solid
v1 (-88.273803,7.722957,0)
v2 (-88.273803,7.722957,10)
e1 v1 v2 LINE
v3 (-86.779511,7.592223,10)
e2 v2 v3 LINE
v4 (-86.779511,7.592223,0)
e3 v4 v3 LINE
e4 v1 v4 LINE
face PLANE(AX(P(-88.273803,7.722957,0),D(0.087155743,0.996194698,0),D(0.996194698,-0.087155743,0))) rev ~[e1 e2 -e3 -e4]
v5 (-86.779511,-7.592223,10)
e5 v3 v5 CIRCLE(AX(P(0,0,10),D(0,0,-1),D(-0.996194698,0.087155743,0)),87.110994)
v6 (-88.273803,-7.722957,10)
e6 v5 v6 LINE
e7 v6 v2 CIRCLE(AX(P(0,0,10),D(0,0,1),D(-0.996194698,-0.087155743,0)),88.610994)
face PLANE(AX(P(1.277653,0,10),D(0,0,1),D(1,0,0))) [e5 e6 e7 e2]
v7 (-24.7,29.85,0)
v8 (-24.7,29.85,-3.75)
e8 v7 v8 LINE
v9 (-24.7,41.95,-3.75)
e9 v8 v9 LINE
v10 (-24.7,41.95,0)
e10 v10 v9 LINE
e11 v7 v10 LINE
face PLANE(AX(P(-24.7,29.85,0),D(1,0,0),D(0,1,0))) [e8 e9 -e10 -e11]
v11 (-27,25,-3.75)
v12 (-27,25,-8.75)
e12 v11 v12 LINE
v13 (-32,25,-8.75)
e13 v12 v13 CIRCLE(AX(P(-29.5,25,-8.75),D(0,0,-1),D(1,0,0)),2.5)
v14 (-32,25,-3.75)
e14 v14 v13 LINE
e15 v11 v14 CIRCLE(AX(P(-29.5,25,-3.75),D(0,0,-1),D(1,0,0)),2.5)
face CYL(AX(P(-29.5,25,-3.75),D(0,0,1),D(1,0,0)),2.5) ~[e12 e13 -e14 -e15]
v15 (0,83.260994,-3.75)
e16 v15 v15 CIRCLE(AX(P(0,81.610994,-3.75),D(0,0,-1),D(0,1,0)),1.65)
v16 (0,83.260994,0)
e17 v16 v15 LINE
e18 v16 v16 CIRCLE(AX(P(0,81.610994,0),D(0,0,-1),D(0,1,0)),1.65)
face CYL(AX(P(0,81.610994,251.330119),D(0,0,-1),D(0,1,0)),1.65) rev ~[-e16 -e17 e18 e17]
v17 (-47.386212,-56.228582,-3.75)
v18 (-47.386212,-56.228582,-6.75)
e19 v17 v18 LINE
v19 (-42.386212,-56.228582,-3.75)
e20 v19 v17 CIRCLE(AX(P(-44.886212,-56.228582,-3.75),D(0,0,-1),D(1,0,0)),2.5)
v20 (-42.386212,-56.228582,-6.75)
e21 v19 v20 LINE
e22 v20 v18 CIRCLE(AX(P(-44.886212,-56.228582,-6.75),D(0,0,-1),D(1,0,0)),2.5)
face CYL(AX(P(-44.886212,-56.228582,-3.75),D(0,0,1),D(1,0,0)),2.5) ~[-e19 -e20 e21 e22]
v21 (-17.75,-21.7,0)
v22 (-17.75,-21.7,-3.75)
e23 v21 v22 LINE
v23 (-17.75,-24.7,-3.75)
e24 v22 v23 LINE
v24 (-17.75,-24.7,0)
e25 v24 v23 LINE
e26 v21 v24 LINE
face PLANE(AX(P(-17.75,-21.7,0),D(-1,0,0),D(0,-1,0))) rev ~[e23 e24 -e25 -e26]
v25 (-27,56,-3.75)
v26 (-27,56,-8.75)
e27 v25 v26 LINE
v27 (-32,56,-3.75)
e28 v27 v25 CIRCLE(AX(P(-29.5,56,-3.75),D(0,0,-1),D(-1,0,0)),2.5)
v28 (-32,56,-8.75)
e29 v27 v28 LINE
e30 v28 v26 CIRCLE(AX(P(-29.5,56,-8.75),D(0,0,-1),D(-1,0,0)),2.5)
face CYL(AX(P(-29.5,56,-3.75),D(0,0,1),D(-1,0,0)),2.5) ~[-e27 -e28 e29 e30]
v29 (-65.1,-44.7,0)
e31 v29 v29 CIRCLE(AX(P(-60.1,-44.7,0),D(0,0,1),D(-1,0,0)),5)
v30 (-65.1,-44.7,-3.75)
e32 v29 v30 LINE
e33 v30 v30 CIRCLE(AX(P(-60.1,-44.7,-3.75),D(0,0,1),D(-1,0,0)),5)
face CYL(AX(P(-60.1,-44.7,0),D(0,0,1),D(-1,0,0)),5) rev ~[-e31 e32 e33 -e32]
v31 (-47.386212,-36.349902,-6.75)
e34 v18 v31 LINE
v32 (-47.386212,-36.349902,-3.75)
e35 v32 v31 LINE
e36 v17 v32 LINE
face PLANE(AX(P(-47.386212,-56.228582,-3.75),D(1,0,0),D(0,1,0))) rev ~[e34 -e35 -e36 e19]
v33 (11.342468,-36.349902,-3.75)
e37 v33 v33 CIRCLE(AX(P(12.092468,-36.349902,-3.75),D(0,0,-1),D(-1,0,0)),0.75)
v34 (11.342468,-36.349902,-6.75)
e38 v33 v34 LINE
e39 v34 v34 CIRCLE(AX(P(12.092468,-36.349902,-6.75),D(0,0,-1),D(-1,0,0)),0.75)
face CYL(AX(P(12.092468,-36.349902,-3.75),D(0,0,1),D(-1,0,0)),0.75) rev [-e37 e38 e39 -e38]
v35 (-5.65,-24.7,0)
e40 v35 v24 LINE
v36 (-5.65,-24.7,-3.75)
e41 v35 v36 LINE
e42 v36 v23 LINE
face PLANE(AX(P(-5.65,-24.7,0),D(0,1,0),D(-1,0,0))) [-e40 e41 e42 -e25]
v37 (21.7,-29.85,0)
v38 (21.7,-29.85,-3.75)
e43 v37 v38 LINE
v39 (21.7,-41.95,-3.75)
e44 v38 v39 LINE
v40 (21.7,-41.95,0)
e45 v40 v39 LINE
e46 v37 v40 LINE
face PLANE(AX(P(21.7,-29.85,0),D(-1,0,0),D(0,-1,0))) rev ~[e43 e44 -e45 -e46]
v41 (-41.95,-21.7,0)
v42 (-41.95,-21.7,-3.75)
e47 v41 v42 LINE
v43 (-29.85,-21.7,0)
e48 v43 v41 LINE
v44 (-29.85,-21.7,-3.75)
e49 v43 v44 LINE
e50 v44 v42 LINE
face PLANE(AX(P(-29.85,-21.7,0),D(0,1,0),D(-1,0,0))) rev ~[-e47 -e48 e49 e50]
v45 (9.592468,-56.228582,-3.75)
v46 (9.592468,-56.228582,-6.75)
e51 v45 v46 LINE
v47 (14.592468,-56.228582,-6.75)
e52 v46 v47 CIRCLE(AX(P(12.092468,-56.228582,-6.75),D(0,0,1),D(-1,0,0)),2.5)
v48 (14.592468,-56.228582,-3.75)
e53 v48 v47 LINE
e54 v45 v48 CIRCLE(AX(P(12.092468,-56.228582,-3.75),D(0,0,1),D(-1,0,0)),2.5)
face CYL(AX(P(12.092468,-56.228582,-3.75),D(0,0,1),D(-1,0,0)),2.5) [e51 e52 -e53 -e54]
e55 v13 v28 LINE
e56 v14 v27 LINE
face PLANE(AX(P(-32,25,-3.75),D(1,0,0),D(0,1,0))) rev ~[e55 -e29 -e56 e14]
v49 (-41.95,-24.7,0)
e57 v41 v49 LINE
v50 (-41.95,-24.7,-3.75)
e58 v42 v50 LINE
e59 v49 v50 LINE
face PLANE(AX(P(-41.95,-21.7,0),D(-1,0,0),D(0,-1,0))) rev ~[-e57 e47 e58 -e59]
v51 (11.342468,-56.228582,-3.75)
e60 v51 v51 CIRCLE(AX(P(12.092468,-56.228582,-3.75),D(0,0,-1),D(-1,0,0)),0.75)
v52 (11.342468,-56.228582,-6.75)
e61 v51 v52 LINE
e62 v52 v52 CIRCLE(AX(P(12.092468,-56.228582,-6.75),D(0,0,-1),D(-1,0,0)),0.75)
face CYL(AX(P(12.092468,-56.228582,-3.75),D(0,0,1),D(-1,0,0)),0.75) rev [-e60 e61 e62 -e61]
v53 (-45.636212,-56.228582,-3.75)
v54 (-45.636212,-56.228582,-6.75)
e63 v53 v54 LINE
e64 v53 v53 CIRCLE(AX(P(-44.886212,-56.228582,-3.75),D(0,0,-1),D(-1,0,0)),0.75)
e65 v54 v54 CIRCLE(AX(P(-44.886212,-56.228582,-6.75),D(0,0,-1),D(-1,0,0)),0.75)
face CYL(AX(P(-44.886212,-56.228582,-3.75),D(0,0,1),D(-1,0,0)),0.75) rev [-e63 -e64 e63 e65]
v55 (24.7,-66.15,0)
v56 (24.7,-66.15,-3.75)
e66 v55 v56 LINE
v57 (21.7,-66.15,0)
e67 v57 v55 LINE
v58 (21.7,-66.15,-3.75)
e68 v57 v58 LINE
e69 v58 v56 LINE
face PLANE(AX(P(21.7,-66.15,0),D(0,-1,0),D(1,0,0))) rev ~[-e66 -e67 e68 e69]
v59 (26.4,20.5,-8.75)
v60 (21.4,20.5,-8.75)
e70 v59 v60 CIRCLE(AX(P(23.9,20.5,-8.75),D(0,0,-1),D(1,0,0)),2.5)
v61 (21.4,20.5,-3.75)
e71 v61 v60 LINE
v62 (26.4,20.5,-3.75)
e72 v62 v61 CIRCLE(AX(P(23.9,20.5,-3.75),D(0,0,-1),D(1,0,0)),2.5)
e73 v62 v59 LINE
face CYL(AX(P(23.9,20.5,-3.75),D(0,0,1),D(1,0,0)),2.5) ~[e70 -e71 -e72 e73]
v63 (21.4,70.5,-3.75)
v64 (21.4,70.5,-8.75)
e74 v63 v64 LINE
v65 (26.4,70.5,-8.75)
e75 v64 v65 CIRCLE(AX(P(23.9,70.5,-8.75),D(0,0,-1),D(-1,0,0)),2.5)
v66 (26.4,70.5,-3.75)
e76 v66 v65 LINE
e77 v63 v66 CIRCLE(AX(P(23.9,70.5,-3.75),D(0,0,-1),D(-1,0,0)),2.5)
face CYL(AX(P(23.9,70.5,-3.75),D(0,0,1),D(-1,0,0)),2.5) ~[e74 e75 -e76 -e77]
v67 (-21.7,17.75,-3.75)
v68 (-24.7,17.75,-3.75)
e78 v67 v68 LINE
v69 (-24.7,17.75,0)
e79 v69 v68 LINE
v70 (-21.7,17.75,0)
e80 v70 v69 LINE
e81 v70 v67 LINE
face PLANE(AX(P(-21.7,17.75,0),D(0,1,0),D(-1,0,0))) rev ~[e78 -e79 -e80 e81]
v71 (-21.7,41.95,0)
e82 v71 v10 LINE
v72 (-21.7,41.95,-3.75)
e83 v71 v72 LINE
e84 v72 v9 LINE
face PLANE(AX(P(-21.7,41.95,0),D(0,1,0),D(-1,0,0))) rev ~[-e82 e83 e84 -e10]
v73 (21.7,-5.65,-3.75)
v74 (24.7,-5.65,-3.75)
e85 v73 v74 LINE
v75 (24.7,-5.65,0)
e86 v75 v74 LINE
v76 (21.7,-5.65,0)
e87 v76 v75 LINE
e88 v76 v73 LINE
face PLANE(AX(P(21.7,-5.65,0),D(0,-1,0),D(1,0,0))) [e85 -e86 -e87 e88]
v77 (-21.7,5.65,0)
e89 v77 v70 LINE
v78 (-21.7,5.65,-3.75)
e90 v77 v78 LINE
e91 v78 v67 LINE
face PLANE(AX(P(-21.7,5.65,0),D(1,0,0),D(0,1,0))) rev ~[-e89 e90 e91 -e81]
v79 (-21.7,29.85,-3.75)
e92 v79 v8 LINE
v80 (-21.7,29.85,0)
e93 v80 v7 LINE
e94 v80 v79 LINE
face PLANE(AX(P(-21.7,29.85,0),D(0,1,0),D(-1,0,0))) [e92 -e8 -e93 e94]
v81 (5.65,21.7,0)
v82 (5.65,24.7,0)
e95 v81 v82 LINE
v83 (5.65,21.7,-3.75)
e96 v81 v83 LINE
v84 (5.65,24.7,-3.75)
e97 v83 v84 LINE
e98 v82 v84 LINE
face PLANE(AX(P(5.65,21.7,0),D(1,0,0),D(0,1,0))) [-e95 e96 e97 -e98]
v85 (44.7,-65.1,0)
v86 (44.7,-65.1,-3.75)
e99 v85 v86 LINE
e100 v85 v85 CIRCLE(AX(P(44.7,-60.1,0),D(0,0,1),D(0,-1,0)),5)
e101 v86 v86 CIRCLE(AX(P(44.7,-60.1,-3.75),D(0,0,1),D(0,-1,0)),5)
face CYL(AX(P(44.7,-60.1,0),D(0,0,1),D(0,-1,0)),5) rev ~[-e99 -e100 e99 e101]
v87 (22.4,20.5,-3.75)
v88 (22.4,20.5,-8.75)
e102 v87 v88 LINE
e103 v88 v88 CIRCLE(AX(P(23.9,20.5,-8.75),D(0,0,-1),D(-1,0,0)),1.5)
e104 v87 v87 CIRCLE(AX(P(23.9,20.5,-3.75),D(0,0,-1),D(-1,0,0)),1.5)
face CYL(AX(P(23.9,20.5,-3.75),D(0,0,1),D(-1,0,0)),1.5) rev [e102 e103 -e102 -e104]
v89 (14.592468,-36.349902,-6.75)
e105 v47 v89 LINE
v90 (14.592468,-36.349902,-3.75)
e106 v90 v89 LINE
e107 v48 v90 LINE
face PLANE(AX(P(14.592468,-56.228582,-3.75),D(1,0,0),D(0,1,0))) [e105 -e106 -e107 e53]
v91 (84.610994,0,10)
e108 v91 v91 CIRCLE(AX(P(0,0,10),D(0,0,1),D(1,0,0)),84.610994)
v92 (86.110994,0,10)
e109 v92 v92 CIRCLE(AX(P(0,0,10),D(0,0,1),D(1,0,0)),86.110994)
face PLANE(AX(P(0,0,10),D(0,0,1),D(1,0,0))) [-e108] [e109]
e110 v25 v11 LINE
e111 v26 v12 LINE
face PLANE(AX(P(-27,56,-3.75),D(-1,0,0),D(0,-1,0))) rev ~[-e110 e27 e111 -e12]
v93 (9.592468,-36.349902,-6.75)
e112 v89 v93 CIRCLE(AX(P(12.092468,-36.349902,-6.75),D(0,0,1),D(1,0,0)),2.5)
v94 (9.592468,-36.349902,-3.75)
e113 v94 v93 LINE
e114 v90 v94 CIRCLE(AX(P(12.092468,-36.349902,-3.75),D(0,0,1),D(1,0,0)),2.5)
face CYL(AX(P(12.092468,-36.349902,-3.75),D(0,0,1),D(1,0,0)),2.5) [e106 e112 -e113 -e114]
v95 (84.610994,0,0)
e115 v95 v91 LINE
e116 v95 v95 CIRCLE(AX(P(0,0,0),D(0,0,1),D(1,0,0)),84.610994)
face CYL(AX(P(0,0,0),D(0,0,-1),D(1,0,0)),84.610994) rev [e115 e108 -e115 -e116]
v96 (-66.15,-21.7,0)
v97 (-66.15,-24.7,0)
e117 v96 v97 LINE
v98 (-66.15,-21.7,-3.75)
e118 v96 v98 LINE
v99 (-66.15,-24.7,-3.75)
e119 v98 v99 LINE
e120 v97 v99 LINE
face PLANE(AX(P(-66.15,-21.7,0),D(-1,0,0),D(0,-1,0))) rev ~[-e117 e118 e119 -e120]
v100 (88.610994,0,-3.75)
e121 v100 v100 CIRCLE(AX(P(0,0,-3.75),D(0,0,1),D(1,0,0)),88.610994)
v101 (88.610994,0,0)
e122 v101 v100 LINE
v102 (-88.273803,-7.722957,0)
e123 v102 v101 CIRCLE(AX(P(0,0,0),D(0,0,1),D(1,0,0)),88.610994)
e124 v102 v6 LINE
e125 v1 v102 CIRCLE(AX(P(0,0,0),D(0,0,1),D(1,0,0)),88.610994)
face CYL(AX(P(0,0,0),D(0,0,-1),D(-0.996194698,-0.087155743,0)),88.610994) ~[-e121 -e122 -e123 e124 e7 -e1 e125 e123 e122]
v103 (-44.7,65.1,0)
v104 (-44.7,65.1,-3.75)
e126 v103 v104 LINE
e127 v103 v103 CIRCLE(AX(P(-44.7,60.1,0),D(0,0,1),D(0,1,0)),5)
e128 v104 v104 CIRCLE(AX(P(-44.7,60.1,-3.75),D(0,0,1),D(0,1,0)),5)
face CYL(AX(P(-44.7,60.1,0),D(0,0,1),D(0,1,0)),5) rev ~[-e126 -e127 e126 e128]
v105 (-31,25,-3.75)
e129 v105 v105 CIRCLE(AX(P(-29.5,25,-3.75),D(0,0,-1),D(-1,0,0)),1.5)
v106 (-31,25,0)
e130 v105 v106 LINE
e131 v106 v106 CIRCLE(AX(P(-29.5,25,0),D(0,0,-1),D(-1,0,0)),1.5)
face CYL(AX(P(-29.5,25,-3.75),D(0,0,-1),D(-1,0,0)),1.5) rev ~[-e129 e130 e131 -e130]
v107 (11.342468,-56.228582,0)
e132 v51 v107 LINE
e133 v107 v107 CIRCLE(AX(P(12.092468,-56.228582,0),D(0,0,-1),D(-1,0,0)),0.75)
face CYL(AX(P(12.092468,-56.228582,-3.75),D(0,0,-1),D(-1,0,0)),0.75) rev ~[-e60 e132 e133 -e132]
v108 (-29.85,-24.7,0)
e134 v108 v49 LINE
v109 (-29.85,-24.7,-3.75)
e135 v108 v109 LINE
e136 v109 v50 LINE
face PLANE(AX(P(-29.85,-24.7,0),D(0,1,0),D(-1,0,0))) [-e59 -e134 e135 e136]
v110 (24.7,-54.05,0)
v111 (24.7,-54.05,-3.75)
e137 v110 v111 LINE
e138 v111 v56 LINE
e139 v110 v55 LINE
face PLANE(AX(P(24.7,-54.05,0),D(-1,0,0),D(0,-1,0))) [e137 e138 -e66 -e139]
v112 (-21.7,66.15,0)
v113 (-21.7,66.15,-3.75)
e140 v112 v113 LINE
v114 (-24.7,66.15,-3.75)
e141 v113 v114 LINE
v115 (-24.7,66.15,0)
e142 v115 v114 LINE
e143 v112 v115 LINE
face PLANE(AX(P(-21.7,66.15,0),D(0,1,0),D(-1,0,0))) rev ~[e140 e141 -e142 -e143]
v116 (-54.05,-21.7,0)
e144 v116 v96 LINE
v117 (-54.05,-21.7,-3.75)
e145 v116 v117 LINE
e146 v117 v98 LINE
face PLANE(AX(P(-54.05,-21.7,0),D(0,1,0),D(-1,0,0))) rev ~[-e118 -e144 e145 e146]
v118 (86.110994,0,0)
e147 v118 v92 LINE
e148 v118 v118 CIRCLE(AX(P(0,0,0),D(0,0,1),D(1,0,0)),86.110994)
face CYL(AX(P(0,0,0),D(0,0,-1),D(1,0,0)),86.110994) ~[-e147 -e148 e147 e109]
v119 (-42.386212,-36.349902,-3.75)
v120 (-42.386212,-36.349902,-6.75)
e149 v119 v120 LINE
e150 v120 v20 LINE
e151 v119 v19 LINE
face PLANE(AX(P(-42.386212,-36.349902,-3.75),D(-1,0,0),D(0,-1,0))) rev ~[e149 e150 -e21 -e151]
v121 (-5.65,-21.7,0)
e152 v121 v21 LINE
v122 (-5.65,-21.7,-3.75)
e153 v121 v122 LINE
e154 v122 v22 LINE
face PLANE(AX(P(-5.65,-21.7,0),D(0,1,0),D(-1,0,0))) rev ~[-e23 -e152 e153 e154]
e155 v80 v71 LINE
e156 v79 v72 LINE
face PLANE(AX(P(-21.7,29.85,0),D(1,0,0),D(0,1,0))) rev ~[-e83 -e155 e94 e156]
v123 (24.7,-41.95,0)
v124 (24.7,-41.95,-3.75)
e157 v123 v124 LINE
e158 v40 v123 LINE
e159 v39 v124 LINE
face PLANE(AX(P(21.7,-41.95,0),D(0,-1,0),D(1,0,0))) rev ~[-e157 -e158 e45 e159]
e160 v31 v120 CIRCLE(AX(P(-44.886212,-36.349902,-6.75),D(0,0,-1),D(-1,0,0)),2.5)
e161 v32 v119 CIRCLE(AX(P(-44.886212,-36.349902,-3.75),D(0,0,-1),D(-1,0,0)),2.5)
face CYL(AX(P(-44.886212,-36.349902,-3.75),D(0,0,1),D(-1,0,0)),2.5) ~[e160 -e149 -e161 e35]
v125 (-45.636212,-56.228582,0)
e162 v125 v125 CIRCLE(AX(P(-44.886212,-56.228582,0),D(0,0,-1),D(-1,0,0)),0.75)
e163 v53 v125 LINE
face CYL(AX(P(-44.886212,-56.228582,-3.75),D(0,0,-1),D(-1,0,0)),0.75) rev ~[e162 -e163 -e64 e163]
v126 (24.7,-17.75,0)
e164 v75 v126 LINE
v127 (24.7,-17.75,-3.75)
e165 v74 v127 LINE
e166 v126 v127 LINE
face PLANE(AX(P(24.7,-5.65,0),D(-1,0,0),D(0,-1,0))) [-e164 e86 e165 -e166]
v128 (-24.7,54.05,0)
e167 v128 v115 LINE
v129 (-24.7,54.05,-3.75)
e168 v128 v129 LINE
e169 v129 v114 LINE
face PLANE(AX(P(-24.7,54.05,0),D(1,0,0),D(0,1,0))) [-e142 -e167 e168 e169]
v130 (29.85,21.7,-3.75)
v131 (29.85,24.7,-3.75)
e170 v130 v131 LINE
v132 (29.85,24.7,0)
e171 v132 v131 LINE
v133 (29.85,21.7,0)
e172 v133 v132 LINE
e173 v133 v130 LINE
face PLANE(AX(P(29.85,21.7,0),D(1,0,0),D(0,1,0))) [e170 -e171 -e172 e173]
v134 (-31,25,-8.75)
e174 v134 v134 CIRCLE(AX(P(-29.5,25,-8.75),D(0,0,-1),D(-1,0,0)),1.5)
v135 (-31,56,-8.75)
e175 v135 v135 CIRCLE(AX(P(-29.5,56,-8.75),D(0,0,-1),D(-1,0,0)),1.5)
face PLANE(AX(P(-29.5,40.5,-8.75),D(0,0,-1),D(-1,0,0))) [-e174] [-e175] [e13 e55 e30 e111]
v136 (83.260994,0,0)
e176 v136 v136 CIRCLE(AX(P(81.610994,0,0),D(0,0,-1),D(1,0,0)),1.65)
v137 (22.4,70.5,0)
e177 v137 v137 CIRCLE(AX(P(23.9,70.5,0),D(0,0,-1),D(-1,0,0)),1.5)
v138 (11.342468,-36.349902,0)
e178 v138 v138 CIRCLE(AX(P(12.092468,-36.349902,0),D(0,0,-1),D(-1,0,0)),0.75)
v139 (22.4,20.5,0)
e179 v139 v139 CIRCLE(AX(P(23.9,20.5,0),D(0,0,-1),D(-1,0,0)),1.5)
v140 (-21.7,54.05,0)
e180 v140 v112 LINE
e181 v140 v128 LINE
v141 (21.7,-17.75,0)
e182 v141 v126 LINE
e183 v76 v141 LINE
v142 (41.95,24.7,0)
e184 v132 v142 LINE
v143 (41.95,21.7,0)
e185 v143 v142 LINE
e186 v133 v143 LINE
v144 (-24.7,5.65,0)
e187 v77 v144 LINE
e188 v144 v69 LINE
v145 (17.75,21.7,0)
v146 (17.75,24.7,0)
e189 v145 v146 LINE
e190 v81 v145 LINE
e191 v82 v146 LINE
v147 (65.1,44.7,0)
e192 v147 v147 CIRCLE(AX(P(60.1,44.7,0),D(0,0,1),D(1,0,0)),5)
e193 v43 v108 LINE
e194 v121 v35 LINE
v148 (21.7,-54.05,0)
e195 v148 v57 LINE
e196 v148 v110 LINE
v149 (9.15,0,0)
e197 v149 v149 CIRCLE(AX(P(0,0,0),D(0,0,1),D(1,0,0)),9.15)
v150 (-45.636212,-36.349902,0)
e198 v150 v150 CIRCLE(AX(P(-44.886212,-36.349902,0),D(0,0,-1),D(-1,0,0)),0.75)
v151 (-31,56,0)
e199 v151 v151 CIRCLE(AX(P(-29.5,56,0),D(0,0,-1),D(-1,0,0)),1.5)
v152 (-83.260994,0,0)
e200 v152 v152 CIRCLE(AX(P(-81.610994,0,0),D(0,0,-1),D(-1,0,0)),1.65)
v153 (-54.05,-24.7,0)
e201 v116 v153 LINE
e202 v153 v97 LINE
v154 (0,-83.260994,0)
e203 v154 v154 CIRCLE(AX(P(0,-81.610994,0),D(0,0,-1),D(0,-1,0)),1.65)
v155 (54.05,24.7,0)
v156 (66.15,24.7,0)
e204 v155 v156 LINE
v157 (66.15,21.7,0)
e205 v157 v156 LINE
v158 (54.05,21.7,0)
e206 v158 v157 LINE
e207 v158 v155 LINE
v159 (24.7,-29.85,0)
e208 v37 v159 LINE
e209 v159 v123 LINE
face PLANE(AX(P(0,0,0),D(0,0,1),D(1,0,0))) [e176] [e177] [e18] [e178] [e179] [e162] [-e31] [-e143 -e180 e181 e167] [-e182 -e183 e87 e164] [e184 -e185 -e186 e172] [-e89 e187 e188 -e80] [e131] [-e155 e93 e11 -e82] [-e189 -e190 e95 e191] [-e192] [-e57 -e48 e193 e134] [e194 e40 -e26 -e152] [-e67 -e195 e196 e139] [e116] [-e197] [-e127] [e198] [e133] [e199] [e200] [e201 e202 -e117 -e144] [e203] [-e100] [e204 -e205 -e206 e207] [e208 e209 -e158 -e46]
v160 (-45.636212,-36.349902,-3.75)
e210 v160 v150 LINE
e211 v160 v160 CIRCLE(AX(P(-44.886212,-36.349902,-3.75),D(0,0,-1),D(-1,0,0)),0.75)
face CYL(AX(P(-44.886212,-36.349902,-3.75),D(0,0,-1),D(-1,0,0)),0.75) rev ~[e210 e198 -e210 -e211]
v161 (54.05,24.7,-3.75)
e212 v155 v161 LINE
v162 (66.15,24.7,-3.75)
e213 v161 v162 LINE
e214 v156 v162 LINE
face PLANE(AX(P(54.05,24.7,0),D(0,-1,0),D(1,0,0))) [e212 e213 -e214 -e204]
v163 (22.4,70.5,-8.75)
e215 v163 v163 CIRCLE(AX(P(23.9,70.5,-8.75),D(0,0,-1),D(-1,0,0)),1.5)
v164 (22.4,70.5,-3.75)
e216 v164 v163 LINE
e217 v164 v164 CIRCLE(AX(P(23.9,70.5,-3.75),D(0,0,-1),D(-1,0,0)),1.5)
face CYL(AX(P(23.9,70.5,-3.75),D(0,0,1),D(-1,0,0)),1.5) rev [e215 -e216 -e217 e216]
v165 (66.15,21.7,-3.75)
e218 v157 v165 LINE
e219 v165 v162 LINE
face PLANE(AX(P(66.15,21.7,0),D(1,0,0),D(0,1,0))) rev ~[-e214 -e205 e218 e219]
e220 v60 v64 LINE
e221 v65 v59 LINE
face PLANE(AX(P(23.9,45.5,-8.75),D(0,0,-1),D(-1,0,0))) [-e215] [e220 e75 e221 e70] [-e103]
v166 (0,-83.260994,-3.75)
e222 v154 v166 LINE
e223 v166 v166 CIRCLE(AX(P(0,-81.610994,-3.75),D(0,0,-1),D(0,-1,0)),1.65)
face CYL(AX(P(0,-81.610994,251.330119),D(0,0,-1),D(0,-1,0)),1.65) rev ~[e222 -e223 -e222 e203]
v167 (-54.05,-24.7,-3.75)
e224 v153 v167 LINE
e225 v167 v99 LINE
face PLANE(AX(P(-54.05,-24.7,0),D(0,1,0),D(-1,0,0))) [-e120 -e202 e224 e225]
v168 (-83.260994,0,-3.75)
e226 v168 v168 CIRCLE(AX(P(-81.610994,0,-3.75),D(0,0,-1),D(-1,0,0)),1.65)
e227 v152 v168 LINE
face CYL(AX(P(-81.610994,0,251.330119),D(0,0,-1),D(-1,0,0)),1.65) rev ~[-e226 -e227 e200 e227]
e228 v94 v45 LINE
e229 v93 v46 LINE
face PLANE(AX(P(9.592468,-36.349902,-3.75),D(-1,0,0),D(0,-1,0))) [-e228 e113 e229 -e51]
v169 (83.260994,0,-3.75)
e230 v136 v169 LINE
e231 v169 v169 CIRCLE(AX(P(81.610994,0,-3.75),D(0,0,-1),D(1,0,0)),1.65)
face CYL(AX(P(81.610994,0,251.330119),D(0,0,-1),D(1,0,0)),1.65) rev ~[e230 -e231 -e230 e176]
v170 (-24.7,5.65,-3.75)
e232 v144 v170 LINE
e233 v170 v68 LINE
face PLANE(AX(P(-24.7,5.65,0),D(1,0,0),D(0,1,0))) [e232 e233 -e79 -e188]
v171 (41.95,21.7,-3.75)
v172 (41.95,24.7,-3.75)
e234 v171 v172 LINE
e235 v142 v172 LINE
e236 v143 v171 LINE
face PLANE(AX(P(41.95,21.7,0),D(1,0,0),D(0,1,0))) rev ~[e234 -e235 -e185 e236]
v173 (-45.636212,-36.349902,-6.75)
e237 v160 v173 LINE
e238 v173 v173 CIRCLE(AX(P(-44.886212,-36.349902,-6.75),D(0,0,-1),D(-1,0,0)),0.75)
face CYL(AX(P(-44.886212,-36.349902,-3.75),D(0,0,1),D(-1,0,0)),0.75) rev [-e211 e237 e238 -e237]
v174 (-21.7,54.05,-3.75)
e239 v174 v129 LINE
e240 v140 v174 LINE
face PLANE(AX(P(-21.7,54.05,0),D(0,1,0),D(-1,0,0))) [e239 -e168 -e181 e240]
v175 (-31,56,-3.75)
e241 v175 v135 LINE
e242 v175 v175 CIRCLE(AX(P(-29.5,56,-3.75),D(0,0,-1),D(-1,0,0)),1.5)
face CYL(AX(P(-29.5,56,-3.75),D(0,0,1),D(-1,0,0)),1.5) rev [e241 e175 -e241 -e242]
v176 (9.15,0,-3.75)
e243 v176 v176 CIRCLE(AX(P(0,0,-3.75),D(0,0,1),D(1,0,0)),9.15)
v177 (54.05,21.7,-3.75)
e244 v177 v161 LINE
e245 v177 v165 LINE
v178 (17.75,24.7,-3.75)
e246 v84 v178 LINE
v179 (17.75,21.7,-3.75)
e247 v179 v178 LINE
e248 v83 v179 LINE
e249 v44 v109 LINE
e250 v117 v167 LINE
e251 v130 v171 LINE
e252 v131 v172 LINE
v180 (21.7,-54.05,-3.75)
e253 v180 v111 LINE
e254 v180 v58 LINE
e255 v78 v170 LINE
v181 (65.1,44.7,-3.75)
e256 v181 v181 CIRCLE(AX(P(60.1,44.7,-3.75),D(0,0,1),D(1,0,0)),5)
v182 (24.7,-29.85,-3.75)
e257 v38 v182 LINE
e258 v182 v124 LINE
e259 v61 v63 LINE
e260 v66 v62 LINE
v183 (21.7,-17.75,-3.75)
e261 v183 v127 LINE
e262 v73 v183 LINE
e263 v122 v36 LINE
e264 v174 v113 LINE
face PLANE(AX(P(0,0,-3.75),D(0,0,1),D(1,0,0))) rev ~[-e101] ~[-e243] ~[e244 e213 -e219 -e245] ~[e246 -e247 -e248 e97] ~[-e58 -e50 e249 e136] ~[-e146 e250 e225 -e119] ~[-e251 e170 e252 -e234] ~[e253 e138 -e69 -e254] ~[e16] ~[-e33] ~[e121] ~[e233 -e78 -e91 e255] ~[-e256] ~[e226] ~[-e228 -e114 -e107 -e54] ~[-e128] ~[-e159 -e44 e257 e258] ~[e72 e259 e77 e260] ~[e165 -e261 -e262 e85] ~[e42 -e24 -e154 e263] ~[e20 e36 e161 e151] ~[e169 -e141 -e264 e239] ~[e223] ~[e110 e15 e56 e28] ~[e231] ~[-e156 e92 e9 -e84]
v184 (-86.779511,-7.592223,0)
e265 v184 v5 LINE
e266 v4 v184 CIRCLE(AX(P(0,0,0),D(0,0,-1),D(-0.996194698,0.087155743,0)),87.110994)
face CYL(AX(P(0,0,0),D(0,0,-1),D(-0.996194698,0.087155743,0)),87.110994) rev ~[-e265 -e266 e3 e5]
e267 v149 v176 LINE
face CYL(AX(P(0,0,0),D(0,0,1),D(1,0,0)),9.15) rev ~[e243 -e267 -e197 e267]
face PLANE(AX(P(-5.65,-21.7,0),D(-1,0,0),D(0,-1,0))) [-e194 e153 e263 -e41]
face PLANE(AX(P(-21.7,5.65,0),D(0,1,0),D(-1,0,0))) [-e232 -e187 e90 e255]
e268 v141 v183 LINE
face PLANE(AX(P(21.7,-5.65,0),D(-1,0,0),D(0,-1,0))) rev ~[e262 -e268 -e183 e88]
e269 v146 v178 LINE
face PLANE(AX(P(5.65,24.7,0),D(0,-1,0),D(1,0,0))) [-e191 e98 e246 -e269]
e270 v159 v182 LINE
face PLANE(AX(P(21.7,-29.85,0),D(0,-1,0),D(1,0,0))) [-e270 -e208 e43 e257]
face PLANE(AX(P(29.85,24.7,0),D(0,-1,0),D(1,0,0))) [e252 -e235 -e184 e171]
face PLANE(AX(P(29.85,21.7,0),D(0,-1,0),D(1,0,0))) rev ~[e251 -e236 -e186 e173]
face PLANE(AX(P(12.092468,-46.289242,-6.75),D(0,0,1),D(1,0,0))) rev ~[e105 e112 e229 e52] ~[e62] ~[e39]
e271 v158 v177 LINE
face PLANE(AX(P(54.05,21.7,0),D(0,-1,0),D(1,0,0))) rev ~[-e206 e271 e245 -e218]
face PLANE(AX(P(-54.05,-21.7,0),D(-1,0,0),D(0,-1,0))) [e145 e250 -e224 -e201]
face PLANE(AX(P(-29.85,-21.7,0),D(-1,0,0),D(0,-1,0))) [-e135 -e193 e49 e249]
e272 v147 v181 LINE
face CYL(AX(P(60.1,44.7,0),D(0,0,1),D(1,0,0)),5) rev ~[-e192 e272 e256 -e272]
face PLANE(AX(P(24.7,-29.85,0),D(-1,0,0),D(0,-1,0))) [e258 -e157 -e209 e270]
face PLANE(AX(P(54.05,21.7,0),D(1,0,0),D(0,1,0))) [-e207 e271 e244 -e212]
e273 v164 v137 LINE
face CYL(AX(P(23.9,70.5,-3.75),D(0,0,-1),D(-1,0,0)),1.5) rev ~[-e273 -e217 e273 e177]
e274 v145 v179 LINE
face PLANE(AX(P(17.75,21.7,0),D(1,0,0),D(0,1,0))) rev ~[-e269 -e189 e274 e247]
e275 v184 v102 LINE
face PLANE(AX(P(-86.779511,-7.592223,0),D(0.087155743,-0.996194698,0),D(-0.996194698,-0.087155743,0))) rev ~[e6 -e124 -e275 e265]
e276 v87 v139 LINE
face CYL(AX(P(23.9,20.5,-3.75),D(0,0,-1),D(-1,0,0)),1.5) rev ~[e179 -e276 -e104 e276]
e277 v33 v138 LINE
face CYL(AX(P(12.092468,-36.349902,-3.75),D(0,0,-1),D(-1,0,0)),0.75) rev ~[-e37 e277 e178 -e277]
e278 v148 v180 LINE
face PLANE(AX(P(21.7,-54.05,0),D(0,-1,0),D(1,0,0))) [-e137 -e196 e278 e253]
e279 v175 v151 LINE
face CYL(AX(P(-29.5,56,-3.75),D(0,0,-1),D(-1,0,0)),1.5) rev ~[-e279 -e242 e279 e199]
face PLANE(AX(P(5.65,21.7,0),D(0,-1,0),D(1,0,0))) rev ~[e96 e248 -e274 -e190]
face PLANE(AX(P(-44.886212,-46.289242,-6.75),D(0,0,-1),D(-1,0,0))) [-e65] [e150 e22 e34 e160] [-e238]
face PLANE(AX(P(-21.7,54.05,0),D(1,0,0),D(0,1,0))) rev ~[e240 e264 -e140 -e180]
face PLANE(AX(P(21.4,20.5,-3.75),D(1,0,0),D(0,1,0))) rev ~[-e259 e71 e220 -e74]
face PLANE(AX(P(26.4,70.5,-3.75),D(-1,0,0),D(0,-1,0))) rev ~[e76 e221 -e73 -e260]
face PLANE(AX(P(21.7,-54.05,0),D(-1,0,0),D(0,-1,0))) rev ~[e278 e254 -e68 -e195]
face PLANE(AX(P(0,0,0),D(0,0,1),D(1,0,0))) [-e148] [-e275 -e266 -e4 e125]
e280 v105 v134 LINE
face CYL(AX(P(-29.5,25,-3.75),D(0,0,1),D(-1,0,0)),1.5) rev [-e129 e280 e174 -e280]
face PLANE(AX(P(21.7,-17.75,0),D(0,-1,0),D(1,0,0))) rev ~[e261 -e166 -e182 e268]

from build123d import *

# Parameters (mm, degrees)
SKETCH1_W                   = 200
SKETCH1_H                   = 200
SKETCH1_R                   = 9.15
BOSS_EXTRUDE1_DEPTH         = 3.75
SKETCH5_W                   = 12.1
SKETCH5_H                   = 3
SKETCH5_R                   = 5
CUT_EXTRUDE6_DEPTH          = 10
CIRPATTERN2_COUNT           = 4
SKETCH6_W                   = 200
SKETCH6_H                   = 200
SKETCH6_R                   = 88.610994186
CUT_EXTRUDE10_DEPTH         = 142.471065946
BOSS_EXTRUDE2_START         = 10
SKETCH7_R                   = 86.110994186
SKETCH7_R_2                 = 84.610994186
BOSS_EXTRUDE2_DEPTH         = 10
SKETCH11_R                  = 1.5
BOSS_EXTRUDE3_DEPTH         = 5
SKETCH13_R                  = 1.5
CUT_EXTRUDE11_DEPTH         = 127.066962688
SKETCH14_R                  = 0.75
BOSS_EXTRUDE4_DEPTH         = 3
SKETCH14_3_R                = 0.75
CUT_EXTRUDE12_DEPTH         = 127.066962688
TAP_DRILL_FOR_M4X0_7_TAP1_D = 3.3
CIRPATTERN3_COUNT           = 4


with BuildPart() as part:
    # Sketch1 → Boss-Extrude1 (new body)
    with BuildSketch(Plane.XY):
        Rectangle(SKETCH1_W, SKETCH1_H)
        Circle(SKETCH1_R, mode=Mode.SUBTRACT)
    extrude(amount=-BOSS_EXTRUDE1_DEPTH)

    # Sketch5 → Cut-Extrude6 (cut)
    with BuildSketch(Plane.XY):
        with Locations((11.7, 23.2)):
            Rectangle(SKETCH5_W, SKETCH5_H)
        with Locations((60.1, 23.2)):
            Rectangle(SKETCH5_W, SKETCH5_H)
        with Locations((35.9, 23.2)):
            Rectangle(SKETCH5_W, SKETCH5_H)
        with Locations((60.1, 44.7)):
            Circle(SKETCH5_R)
    cut_extrude6 = extrude(amount=-CUT_EXTRUDE6_DEPTH, mode=Mode.SUBTRACT)

    # CirPattern2: Cut-Extrude6 ×4 about axis
    cirpattern2_axis = Axis((0, 0, -3.75), (0, 0, 1))
    for i in range(1, CIRPATTERN2_COUNT):
        add(cut_extrude6.rotate(cirpattern2_axis, i * 360 / CIRPATTERN2_COUNT), mode=Mode.SUBTRACT)

    # Sketch6 → Cut-Extrude10 (cut, through all)
    with BuildSketch(Plane.XY):
        Rectangle(SKETCH6_W, SKETCH6_H)
        Circle(SKETCH6_R, mode=Mode.SUBTRACT)
    extrude(amount=-CUT_EXTRUDE10_DEPTH, mode=Mode.SUBTRACT)

    # Sketch7 → Boss-Extrude2 (add)
    # profile 1 of 2: a face of its own
    with BuildSketch(Plane.XY.offset(BOSS_EXTRUDE2_START)):
        Circle(SKETCH7_R)
        Circle(SKETCH7_R_2, mode=Mode.SUBTRACT)
    # profile 2 of 2: a face of its own
    with BuildSketch(Plane.XY.offset(BOSS_EXTRUDE2_START)):
        with BuildLine():
            Line((-88.273802601, 7.722957014), (-86.779510554, 7.5922234))
            ThreePointArc((-86.779510554, 7.5922234), (87.110994186, 0), (-86.779510554, -7.5922234))
            Line((-86.779510554, -7.5922234), (-88.273802601, -7.722957014))
            ThreePointArc((-88.273802601, -7.722957014), (88.610994186, 0), (-88.273802601, 7.722957014))
        make_face()
    extrude(amount=-BOSS_EXTRUDE2_DEPTH)

    # Sketch11 → Boss-Extrude3 (add)
    # profile 1 of 2: a face of its own
    with BuildSketch(Plane(origin=(0, 0, -3.75), x_dir=(-1, 0, 0), z_dir=(0, 0, -1))):
        with BuildLine():
            Line((-26.4, 70.5), (-26.4, 20.5))
            ThreePointArc((-26.4, 20.5), (-23.9, 18), (-21.4, 20.5))
            Line((-21.4, 20.5), (-21.4, 70.5))
            ThreePointArc((-21.4, 70.5), (-23.9, 73), (-26.4, 70.5))
        make_face()
        with Locations((-23.9, 70.5)):
            Circle(SKETCH11_R, mode=Mode.SUBTRACT)
        with Locations((-23.9, 20.5)):
            Circle(SKETCH11_R, mode=Mode.SUBTRACT)
    # profile 2 of 2: a face of its own
    with BuildSketch(Plane(origin=(0, 0, -3.75), x_dir=(-1, 0, 0), z_dir=(0, 0, -1))):
        with BuildLine():
            Line((27, 56), (27, 25))
            ThreePointArc((27, 25), (29.5, 22.5), (32, 25))
            Line((32, 25), (32, 56))
            ThreePointArc((32, 56), (29.5, 58.5), (27, 56))
        make_face()
        with Locations((29.5, 25)):
            Circle(SKETCH11_R, mode=Mode.SUBTRACT)
        with Locations((29.5, 56)):
            Circle(SKETCH11_R, mode=Mode.SUBTRACT)
    extrude(amount=BOSS_EXTRUDE3_DEPTH)

    # Sketch13 → Cut-Extrude11 (cut, through all)
    with BuildSketch(Plane(origin=(0, 0, -3.75), x_dir=(-1, 0, 0), z_dir=(0, 0, -1))):
        with Locations((29.5, 56)):
            Circle(SKETCH13_R)
        with Locations((29.5, 25)):
            Circle(SKETCH13_R)
        with Locations((-23.9, 20.5)):
            Circle(SKETCH13_R)
        with Locations((-23.9, 70.5)):
            Circle(SKETCH13_R)
    extrude(amount=-CUT_EXTRUDE11_DEPTH, mode=Mode.SUBTRACT)

    # Sketch14 → Boss-Extrude4 (add)
    # profile 1 of 2: a face of its own
    with BuildSketch(Plane(origin=(0, 0, -3.75), x_dir=(-1, 0, 0), z_dir=(0, 0, -1))):
        with BuildLine():
            Line((-9.592467607, -56.228581918), (-9.592467607, -36.349902261))
            ThreePointArc((-9.592467607, -36.349902261), (-12.092467607, -33.849902261), (-14.592467607, -36.349902261))
            Line((-14.592467607, -36.349902261), (-14.592467607, -56.228581918))
            ThreePointArc((-14.592467607, -56.228581918), (-12.092467607, -58.728581918), (-9.592467607, -56.228581918))
        make_face()
        with Locations((-12.092467607, -56.228581918)):
            Circle(SKETCH14_R, mode=Mode.SUBTRACT)
        with Locations((-12.092467607, -36.349902261)):
            Circle(SKETCH14_R, mode=Mode.SUBTRACT)
    # profile 2 of 2: a face of its own
    with BuildSketch(Plane(origin=(0, 0, -3.75), x_dir=(-1, 0, 0), z_dir=(0, 0, -1))):
        with BuildLine():
            ThreePointArc((47.38621205, -36.349902261), (44.88621205, -33.849902261), (42.38621205, -36.349902261))
            Line((42.38621205, -36.349902261), (42.38621205, -56.228581918))
            ThreePointArc((42.38621205, -56.228581918), (44.88621205, -58.728581918), (47.38621205, -56.228581918))
            Line((47.38621205, -56.228581918), (47.38621205, -36.349902261))
        make_face()
        with Locations((44.88621205, -56.228581918)):
            Circle(SKETCH14_R, mode=Mode.SUBTRACT)
        with Locations((44.88621205, -36.349902261)):
            Circle(SKETCH14_R, mode=Mode.SUBTRACT)
    extrude(amount=BOSS_EXTRUDE4_DEPTH)

    # Sketch14<3> → Cut-Extrude12 (cut, through all)
    with BuildSketch(Plane(origin=(0, 0, -3.75), x_dir=(-1, 0, 0), z_dir=(0, 0, -1))):
        with Locations((44.88621205, -36.349902261)):
            Circle(SKETCH14_3_R)
        with Locations((-12.092467607, -56.228581918)):
            Circle(SKETCH14_3_R)
        with Locations((-12.092467607, -36.349902261)):
            Circle(SKETCH14_3_R)
        with Locations((44.88621205, -56.228581918)):
            Circle(SKETCH14_3_R)
    extrude(amount=-CUT_EXTRUDE12_DEPTH, mode=Mode.SUBTRACT)

    # Tap Drill for M4x0.7 Tap1 (through all)
    with Locations(Plane.XY):
        with Locations((-81.610994186, 0)):
            tap_drill_for_m4x0_7_tap1 = Hole(TAP_DRILL_FOR_M4X0_7_TAP1_D / 2)

    # CirPattern3: Tap Drill for M4x0.7 Tap1 ×4 about axis
    cirpattern3_axis = Axis((0, 0, 10), (0, 0, 1))
    for i in range(1, CIRPATTERN3_COUNT):
        add(tap_drill_for_m4x0_7_tap1.rotate(cirpattern3_axis, i * 360 / CIRPATTERN3_COUNT), mode=Mode.SUBTRACT)


solid = part.part
